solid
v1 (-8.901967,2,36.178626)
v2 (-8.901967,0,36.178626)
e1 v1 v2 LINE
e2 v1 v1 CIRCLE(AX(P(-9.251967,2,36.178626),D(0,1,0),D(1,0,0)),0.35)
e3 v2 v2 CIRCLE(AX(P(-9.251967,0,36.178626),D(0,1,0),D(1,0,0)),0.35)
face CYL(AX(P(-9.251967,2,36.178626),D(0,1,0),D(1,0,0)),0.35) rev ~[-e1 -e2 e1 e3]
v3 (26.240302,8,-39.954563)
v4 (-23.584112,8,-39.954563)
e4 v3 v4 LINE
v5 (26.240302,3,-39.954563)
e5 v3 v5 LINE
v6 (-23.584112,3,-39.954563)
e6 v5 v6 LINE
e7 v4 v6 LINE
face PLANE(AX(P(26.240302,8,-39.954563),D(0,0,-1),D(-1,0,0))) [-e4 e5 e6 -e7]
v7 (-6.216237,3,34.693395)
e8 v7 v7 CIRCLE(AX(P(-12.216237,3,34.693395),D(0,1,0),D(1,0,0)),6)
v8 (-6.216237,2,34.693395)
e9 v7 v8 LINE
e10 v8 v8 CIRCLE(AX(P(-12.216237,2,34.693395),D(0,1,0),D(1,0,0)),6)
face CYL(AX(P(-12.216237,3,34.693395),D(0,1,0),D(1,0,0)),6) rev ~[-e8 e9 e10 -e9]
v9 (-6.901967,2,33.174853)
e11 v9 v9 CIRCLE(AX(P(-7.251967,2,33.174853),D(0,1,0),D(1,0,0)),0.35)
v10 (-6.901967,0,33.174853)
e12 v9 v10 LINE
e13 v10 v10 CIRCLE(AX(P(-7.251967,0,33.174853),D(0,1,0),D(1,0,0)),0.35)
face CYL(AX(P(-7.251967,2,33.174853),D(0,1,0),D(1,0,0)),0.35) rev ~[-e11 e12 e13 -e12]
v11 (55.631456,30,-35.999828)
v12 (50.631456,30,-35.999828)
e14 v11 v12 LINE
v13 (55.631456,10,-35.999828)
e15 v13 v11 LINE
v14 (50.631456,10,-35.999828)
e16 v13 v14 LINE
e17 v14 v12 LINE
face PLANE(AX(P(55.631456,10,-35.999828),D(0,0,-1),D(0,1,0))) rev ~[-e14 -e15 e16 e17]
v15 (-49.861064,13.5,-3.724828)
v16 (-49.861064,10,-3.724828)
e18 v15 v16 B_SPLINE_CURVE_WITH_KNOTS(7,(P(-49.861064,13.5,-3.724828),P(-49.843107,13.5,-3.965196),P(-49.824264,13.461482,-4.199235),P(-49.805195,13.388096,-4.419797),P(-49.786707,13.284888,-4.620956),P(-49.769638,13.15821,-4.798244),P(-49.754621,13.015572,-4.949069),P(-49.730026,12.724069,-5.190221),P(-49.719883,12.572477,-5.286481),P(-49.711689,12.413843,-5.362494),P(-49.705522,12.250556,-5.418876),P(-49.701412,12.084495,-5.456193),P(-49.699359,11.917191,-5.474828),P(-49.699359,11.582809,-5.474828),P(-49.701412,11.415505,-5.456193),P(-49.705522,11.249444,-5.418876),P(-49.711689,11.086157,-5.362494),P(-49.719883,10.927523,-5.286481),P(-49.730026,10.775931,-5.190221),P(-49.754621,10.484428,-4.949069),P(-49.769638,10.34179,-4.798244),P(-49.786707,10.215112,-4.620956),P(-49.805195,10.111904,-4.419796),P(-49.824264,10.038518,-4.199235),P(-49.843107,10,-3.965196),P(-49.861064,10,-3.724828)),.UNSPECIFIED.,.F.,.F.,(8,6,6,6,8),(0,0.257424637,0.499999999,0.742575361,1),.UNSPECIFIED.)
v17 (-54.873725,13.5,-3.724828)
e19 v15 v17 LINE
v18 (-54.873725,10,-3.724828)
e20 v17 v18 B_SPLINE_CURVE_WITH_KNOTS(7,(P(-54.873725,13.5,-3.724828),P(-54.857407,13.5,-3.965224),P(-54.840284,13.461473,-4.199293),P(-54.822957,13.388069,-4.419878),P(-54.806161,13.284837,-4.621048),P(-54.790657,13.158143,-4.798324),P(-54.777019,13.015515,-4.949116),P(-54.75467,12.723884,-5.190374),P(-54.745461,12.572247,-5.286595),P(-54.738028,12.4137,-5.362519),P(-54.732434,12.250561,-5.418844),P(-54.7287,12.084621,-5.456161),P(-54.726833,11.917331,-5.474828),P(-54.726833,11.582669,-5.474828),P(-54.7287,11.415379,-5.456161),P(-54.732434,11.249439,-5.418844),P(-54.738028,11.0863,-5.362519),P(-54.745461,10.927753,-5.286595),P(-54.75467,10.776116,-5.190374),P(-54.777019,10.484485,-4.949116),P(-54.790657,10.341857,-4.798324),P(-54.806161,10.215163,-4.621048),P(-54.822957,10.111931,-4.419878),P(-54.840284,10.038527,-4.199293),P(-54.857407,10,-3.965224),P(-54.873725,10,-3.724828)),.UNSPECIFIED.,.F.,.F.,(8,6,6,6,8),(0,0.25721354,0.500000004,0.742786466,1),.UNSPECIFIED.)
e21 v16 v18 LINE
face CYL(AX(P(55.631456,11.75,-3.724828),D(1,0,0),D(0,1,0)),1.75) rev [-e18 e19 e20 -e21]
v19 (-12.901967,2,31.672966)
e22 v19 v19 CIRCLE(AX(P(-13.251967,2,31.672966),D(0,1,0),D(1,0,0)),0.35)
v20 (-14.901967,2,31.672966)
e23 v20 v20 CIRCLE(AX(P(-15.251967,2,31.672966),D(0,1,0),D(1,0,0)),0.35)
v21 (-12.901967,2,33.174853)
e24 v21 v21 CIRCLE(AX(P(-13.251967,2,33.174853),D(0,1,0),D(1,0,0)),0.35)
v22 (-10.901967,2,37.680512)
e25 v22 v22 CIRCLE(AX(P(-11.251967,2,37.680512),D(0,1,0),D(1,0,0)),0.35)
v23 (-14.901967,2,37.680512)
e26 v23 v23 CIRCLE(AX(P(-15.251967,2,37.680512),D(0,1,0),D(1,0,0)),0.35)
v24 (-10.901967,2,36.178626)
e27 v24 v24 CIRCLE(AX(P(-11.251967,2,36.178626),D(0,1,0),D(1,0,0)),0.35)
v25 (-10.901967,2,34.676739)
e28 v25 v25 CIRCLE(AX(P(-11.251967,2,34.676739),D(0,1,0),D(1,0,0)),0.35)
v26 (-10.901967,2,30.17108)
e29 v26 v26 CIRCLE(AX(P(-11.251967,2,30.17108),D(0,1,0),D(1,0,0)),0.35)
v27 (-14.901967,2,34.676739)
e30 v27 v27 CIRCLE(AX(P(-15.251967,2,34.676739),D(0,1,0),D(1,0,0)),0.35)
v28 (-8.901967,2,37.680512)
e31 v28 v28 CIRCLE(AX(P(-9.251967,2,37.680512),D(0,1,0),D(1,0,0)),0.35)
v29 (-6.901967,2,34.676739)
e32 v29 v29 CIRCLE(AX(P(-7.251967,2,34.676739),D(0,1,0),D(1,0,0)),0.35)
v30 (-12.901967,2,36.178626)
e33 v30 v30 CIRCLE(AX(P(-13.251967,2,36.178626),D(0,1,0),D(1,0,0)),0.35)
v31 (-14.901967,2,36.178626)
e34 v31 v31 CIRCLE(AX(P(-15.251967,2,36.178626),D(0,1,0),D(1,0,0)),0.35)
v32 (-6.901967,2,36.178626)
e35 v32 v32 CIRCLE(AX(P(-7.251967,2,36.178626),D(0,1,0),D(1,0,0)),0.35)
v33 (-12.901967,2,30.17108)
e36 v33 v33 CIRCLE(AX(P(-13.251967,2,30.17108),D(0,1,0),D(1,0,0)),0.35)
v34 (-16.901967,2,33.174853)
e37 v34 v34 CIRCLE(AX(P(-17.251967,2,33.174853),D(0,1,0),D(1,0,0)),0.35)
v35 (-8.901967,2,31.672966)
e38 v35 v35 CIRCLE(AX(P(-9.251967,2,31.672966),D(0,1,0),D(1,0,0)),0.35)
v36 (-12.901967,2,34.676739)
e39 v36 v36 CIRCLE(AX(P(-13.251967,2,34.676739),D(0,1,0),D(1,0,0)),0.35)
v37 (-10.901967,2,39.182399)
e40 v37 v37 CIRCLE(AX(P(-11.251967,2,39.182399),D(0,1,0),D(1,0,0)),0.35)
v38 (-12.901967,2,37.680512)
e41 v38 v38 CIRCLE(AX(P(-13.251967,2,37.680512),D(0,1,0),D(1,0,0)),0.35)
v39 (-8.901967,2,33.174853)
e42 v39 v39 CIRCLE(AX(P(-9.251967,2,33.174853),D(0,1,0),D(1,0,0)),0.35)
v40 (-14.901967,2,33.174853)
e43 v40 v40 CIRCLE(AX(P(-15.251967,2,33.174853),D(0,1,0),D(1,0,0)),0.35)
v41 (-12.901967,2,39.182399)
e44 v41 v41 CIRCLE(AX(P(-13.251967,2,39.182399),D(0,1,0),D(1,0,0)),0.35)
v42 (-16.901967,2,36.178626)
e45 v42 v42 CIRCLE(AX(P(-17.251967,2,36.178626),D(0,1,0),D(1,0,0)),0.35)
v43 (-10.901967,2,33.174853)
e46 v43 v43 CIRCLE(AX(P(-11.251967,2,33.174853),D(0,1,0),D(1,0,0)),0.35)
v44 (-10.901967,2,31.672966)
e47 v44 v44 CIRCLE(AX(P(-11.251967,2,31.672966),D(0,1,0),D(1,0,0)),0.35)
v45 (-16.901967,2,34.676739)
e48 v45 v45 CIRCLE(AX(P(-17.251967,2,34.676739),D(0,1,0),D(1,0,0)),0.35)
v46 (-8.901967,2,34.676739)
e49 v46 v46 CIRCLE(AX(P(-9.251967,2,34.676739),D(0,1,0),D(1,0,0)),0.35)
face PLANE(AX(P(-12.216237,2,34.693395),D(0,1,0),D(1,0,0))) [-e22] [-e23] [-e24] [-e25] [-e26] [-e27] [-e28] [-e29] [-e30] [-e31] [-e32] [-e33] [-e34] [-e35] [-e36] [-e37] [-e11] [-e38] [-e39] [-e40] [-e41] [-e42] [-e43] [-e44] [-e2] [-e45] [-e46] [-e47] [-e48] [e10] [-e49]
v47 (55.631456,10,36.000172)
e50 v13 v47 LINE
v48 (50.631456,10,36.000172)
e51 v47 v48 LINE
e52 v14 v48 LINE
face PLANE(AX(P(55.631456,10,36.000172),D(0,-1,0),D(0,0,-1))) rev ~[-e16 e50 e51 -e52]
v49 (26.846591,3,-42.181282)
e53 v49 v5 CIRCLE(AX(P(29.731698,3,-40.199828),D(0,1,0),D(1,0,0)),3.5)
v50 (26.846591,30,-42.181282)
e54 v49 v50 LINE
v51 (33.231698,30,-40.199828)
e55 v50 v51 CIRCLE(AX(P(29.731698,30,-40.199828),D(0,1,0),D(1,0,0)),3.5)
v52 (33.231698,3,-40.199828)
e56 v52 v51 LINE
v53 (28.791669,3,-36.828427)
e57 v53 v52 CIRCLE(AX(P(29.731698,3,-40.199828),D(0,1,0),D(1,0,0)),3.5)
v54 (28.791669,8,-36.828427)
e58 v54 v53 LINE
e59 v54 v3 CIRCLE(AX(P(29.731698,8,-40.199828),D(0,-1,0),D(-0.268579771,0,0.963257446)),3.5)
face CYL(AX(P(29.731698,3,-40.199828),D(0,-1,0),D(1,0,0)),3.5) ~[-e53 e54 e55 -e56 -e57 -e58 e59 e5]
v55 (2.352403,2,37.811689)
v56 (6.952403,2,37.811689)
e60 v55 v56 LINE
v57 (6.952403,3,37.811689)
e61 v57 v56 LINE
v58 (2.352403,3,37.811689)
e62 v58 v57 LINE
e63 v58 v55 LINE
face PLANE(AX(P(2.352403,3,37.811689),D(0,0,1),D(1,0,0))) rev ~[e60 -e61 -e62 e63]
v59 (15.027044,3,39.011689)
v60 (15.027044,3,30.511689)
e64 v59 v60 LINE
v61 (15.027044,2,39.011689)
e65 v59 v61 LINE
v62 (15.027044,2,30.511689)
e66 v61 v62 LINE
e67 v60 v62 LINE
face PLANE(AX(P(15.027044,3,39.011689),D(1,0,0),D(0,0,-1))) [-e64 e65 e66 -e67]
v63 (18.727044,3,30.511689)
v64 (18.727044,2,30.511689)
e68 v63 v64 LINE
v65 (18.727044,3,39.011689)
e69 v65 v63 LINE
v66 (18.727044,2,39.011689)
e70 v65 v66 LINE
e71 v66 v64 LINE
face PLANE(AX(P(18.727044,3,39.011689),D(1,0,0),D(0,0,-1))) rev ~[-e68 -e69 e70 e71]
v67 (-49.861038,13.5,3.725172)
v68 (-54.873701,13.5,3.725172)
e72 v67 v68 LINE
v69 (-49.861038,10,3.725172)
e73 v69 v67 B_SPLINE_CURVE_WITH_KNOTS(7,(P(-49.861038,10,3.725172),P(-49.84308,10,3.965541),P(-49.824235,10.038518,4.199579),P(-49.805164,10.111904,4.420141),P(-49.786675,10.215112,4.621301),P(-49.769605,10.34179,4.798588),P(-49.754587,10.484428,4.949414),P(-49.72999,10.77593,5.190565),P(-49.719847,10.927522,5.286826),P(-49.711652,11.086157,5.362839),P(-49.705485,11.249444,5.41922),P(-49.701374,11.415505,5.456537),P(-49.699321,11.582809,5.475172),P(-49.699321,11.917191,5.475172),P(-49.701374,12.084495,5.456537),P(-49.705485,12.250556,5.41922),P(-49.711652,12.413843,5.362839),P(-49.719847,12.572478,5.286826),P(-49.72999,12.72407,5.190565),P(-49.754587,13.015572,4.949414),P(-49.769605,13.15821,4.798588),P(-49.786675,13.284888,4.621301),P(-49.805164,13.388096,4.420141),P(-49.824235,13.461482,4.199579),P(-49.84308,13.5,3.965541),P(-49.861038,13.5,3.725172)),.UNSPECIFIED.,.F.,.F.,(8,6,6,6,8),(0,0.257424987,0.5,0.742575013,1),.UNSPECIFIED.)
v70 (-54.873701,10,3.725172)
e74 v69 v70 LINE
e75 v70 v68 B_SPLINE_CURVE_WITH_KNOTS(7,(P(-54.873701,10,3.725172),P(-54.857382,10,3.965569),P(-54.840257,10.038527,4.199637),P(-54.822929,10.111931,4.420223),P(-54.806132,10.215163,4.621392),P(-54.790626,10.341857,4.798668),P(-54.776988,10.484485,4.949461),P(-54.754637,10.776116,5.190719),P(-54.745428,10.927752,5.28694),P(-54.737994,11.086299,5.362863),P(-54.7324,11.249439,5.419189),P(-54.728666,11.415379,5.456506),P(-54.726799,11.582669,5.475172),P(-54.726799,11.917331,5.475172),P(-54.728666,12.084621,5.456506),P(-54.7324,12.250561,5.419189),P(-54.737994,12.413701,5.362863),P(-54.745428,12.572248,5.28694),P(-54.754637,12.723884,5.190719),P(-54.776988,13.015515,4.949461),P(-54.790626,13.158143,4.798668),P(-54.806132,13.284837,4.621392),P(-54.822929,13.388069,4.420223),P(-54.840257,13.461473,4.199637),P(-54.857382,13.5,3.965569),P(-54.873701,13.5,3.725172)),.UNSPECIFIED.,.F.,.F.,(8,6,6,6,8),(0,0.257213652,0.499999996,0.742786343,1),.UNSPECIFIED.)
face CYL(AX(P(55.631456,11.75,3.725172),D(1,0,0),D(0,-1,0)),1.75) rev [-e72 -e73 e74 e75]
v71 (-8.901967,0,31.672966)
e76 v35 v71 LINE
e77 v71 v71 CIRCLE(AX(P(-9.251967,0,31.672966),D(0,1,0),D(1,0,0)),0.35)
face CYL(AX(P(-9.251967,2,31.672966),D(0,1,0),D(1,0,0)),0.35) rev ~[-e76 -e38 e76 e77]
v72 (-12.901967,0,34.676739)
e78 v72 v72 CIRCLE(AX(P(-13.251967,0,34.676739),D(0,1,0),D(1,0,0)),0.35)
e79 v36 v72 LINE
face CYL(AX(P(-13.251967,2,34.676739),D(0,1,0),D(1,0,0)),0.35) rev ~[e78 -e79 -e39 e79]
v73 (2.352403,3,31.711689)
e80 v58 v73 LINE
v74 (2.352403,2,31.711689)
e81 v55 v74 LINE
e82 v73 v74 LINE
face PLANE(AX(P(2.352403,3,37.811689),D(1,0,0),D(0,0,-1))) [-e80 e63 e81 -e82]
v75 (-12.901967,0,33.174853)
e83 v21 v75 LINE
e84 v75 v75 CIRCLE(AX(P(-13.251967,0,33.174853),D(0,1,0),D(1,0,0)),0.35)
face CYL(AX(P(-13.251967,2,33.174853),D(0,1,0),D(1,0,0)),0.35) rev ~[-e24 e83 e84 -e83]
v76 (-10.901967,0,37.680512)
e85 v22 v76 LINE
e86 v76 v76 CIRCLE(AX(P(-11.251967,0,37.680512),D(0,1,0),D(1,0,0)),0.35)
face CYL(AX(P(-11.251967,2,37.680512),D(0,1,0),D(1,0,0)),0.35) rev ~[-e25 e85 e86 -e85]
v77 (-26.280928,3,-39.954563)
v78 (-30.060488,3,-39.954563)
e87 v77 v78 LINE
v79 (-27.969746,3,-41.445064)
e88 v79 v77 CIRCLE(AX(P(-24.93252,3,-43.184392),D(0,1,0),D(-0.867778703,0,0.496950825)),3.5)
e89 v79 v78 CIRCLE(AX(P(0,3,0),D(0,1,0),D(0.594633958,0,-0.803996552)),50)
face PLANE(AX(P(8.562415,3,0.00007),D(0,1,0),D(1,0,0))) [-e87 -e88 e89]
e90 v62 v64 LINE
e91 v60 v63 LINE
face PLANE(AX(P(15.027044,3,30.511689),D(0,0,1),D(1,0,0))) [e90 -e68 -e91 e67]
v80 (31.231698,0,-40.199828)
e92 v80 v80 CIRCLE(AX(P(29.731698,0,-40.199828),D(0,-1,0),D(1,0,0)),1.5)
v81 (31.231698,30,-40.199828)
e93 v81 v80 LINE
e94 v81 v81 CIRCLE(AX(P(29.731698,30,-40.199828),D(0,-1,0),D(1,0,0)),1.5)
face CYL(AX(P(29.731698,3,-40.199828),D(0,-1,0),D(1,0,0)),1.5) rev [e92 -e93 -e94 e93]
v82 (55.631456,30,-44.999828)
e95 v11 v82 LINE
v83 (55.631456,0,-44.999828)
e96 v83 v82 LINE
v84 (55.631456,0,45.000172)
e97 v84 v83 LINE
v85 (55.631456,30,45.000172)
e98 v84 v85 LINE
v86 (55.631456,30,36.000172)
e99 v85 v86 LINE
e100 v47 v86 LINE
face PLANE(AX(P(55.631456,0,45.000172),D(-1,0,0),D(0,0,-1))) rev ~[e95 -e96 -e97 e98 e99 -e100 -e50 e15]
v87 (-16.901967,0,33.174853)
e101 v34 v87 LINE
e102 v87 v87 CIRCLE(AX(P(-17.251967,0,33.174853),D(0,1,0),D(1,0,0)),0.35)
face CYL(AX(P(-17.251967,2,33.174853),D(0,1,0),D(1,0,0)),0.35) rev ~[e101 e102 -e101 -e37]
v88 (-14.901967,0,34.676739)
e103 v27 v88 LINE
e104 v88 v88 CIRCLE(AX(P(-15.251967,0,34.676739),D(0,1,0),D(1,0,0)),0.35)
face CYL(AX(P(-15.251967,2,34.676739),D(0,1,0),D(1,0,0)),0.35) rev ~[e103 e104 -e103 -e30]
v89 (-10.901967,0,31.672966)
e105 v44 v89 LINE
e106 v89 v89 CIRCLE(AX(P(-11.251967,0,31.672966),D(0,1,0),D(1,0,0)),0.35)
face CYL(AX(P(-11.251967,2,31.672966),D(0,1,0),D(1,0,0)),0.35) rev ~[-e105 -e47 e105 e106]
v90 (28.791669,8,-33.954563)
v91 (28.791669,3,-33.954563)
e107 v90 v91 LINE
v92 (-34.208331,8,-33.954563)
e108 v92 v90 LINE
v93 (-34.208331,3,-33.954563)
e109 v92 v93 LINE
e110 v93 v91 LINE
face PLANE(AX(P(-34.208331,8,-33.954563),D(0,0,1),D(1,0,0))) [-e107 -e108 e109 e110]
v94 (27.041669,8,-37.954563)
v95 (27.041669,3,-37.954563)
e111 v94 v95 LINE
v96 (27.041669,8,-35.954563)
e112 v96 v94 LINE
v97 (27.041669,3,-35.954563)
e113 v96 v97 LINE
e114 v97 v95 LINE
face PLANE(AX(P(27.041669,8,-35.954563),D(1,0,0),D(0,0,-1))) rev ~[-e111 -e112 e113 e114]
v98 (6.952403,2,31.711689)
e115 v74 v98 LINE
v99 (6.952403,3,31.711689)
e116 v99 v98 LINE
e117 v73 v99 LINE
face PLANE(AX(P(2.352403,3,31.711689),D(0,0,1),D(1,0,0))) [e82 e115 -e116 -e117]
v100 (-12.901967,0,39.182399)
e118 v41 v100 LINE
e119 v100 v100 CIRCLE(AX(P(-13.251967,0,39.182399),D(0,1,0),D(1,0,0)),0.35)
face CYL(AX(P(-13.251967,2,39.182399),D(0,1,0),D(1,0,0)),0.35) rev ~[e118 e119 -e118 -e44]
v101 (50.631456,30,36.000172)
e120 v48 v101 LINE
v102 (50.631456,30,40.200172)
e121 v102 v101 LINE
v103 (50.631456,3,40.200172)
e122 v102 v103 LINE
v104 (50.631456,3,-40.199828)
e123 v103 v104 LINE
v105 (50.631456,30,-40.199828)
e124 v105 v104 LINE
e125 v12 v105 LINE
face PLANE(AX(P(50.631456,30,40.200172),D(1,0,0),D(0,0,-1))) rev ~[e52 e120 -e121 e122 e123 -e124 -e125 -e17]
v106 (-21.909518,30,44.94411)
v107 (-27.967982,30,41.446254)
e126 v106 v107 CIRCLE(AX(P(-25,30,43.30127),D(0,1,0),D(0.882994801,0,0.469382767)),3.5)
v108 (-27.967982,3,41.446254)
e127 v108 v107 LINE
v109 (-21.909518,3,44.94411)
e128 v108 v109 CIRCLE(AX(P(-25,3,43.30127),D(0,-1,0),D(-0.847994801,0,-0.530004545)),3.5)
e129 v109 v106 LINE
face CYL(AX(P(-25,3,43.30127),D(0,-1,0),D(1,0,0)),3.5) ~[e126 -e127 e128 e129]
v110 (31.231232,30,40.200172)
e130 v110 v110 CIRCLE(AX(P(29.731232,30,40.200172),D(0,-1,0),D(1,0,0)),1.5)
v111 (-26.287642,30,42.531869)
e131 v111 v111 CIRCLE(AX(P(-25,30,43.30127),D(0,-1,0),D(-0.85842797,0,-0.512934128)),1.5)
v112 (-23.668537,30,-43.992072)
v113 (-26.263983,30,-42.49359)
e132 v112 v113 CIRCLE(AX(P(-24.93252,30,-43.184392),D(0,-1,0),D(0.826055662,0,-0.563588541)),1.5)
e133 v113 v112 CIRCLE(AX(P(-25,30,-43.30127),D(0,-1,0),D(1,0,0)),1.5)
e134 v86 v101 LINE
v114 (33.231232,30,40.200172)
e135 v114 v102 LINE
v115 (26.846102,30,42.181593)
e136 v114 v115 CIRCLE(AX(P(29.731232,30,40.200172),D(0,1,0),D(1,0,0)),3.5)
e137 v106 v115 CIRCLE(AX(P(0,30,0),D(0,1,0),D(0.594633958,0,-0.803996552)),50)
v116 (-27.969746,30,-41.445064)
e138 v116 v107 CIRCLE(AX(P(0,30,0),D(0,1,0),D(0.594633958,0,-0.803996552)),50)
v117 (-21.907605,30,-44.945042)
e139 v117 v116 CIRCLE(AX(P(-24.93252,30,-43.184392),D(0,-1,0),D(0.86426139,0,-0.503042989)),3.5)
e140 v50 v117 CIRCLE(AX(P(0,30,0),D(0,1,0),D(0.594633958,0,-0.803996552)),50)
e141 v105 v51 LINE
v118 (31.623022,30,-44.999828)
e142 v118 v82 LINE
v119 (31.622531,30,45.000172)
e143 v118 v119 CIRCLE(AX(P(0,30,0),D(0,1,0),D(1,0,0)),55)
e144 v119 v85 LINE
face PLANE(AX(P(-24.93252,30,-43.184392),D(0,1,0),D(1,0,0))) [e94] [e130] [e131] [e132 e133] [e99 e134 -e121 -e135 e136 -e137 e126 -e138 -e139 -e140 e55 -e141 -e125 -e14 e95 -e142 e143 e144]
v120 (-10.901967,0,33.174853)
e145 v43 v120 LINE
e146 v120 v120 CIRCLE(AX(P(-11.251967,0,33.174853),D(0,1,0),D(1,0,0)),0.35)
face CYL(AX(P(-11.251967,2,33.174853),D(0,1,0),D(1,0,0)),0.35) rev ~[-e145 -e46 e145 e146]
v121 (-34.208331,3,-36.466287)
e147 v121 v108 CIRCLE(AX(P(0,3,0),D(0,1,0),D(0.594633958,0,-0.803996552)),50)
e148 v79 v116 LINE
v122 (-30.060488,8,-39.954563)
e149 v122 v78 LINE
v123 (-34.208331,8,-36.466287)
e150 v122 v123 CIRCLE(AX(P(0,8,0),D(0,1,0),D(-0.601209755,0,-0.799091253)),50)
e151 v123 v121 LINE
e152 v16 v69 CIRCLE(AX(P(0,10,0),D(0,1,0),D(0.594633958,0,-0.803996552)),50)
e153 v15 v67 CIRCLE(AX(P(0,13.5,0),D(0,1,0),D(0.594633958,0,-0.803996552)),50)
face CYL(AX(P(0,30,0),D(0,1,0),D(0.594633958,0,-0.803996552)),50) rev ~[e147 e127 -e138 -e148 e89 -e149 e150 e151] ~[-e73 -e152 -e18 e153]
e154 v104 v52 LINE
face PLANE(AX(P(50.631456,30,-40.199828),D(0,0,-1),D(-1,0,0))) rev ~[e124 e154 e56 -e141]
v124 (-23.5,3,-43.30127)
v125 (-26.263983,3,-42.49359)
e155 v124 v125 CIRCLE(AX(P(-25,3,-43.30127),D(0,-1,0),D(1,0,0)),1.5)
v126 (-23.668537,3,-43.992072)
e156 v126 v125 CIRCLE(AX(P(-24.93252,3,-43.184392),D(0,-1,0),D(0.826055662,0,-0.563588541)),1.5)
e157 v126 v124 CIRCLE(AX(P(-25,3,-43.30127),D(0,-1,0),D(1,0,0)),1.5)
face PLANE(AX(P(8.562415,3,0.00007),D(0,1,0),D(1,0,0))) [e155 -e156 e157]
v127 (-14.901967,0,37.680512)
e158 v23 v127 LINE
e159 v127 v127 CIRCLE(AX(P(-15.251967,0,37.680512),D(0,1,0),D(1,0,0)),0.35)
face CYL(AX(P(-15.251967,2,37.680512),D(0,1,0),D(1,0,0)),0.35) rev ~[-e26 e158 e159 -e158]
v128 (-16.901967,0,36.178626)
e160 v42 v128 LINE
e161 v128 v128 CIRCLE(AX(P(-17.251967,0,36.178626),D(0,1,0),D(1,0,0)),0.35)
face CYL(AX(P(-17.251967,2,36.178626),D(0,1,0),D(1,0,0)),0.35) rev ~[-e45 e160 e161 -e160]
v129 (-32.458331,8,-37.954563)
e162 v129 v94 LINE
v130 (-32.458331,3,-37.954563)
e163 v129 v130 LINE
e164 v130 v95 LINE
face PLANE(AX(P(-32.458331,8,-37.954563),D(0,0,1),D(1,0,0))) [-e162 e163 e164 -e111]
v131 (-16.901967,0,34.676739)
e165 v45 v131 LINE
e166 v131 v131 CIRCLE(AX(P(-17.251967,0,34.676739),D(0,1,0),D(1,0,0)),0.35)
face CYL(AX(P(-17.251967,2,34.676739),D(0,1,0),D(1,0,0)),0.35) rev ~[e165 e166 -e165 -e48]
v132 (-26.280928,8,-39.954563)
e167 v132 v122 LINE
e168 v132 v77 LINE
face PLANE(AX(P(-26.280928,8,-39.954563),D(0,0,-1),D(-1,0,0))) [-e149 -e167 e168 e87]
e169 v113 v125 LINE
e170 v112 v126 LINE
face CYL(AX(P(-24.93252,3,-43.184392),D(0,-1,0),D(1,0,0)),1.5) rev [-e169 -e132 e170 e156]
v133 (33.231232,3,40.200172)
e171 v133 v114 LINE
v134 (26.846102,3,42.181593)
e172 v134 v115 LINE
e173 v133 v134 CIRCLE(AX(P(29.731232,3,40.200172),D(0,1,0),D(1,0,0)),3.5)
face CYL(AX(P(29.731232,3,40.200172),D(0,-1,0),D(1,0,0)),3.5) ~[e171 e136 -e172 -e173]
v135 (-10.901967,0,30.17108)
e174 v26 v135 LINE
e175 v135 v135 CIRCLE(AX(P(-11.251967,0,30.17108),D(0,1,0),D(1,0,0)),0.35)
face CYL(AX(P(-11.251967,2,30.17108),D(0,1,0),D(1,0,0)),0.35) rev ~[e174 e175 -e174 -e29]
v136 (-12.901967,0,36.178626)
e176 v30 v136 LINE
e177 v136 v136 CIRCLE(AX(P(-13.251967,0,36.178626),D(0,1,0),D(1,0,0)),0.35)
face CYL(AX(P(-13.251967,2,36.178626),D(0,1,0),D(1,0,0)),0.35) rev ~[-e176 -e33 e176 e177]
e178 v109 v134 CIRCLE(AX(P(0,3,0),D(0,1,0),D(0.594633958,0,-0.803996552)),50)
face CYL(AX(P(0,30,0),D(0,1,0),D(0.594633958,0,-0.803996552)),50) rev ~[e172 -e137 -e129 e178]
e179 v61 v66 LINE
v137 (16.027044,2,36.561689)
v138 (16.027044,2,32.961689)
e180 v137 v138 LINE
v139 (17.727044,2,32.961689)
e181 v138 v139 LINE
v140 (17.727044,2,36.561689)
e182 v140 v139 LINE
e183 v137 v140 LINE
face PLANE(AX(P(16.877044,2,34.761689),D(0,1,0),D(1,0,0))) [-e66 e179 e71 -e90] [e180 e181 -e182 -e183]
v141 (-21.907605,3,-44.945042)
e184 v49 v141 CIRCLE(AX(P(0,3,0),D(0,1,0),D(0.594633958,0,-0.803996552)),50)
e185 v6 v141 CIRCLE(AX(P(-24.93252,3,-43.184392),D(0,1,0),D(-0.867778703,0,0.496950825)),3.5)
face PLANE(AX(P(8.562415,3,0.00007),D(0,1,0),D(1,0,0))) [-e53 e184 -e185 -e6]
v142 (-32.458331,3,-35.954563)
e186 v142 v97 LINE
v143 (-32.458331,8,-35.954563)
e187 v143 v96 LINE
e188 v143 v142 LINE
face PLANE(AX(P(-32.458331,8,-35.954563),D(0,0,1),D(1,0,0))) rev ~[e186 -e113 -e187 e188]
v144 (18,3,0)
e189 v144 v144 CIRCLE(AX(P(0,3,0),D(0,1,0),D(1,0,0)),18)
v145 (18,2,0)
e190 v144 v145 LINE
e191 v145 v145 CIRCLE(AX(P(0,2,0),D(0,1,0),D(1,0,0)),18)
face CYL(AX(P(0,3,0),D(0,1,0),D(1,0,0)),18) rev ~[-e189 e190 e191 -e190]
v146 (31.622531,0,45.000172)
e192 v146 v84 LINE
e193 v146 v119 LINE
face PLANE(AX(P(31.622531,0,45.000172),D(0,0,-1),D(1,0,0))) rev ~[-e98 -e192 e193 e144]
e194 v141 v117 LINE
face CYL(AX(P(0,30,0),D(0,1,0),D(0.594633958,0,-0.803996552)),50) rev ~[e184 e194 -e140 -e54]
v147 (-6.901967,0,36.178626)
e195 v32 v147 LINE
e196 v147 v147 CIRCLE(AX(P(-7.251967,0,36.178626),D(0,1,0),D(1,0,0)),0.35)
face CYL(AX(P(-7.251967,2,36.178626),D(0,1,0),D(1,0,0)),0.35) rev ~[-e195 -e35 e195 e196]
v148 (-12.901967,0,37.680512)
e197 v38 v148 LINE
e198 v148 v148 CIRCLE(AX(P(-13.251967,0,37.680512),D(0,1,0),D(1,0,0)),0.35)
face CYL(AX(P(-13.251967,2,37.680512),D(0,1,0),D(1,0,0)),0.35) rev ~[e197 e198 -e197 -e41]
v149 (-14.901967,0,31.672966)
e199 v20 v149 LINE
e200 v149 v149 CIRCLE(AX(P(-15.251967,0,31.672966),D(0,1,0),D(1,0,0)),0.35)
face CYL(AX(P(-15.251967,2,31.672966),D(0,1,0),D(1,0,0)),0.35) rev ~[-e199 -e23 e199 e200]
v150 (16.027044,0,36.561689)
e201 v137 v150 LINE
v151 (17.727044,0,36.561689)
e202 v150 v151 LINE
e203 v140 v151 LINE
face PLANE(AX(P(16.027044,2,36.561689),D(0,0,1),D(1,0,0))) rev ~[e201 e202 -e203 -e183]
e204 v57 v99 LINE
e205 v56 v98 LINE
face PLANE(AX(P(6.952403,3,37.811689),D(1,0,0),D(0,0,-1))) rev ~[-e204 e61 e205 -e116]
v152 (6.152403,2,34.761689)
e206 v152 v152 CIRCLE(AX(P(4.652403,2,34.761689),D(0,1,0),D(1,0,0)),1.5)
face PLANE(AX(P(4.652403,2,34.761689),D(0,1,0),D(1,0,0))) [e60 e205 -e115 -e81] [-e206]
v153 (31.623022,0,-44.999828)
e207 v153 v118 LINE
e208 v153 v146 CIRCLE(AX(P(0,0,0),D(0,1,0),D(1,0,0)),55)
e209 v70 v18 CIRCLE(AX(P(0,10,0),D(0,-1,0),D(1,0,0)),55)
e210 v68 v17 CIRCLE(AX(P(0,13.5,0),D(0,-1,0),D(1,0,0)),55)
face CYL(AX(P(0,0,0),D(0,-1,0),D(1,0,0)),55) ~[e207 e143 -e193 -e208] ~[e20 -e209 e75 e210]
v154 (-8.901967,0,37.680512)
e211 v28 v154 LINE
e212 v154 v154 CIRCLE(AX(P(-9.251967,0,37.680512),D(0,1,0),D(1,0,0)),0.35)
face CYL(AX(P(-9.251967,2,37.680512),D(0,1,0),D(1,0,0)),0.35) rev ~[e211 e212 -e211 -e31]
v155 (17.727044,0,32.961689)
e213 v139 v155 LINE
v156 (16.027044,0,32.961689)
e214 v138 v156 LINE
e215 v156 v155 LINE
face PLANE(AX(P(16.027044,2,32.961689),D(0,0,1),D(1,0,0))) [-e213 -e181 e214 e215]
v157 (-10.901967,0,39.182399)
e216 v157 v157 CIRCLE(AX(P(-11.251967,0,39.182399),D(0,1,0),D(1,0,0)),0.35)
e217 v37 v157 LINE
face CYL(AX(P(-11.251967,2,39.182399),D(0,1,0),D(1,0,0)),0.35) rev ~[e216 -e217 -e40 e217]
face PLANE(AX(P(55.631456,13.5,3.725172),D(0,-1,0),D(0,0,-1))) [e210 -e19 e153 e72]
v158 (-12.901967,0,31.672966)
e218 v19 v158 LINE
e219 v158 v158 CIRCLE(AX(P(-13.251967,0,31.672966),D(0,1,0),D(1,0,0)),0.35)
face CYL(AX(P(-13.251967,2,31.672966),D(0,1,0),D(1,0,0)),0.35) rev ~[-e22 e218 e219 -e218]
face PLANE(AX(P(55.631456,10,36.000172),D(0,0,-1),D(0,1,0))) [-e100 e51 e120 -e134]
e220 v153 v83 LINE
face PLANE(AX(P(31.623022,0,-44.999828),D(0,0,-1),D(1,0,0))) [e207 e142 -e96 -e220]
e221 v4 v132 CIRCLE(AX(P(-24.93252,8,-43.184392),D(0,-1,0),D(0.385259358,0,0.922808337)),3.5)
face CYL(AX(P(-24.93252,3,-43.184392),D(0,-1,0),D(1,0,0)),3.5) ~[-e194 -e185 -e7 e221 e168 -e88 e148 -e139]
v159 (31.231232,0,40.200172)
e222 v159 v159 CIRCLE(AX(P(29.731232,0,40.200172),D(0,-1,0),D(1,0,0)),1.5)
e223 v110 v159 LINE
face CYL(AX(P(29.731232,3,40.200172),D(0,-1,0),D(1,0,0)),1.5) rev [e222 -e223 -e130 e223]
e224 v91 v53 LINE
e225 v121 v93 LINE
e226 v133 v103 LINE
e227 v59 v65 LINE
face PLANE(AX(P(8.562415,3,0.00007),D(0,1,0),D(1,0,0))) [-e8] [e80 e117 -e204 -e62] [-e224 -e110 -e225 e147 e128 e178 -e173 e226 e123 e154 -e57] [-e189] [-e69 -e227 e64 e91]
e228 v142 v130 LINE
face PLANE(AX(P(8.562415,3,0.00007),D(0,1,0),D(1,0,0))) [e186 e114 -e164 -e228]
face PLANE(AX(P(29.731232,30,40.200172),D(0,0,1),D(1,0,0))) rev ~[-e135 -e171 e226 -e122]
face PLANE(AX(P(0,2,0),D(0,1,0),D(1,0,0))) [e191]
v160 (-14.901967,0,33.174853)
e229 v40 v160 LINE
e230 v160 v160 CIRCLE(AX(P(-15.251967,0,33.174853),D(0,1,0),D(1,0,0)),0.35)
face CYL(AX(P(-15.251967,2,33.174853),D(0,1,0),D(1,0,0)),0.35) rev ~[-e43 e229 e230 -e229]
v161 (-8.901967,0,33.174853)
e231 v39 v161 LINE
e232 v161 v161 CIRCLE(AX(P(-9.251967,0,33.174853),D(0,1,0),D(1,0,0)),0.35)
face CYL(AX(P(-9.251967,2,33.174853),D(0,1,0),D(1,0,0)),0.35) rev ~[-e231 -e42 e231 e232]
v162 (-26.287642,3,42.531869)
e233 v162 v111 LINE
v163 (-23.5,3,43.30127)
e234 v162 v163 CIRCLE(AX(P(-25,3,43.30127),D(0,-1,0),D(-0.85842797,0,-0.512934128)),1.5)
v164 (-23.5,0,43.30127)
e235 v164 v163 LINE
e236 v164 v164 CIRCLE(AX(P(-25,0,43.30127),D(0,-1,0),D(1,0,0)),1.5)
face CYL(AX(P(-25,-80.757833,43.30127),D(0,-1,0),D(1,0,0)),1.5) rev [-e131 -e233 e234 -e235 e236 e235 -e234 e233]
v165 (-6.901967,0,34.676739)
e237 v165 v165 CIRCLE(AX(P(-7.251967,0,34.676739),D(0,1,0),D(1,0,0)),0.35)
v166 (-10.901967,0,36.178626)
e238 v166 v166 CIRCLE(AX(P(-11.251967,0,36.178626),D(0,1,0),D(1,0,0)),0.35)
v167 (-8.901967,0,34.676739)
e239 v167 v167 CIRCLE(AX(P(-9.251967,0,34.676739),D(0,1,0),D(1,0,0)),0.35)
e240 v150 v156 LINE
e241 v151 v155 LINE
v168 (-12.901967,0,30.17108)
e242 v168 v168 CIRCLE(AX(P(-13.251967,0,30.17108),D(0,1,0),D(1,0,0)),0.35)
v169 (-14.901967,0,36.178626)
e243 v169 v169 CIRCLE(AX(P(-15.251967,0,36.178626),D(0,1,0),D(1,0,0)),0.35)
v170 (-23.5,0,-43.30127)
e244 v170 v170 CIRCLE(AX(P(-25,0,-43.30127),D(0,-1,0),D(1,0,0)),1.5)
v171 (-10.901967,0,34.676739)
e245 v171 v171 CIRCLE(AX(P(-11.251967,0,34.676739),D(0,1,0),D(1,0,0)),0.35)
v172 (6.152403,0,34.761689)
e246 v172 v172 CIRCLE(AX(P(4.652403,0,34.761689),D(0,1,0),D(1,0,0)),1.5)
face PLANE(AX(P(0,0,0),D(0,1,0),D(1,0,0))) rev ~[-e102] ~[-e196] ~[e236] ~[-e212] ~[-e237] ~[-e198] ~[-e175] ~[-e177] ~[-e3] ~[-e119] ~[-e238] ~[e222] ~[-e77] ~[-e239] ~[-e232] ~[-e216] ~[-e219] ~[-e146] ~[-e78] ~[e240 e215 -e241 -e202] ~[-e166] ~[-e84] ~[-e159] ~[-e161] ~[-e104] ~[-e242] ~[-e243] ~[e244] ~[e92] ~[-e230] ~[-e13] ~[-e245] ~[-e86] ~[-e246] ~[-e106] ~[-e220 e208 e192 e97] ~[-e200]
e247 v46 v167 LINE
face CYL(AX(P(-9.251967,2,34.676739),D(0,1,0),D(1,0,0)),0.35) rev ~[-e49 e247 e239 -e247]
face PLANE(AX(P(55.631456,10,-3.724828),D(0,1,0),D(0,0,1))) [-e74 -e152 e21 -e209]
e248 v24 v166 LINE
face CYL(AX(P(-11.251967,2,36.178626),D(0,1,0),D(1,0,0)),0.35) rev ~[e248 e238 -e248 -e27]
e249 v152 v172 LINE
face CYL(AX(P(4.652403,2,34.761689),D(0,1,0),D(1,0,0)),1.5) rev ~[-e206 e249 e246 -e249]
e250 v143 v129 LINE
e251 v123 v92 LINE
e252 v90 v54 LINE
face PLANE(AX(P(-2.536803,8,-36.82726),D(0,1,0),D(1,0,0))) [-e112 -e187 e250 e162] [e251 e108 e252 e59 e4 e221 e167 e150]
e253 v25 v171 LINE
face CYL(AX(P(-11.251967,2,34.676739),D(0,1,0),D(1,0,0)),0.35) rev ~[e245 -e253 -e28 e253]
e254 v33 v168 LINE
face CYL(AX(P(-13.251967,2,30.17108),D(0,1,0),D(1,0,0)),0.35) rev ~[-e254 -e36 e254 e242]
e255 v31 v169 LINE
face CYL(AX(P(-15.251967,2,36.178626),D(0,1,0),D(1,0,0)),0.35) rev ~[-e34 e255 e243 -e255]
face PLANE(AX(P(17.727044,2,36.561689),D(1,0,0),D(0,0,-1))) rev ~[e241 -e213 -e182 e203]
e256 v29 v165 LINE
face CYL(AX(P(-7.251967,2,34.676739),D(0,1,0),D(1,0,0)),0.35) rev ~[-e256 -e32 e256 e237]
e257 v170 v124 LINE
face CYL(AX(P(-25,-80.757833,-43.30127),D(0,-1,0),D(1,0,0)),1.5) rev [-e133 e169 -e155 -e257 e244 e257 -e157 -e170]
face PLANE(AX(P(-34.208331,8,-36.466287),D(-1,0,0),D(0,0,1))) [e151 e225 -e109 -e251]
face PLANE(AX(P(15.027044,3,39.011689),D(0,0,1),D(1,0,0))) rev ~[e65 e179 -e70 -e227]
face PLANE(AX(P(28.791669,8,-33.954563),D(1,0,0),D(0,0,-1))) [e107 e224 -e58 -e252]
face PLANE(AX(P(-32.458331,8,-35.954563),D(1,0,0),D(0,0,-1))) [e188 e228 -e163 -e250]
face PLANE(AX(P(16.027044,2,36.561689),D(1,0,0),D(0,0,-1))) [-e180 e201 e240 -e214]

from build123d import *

# Parameters (mm, degrees)
SKETCH1_R               = 55
SKETCH1_W               = 30.631456328
SKETCH1_H               = 90
HOUSING_DEPTH           = 30
INTERNALCUT_DEPTH       = 27
SKETCH7_W               = 72
SKETCH7_H               = 25
DISPLAYCUT_DEPTH        = 27
SKETCH11_R              = 18
WICHARGERCUT_DEPTH      = 1
SKETCH14_W              = 4.6
SKETCH14_H              = 6.1
BTNINTERNALCUT_DEPTH    = 1
SKETCH16_R              = 1.5
BTNEXTERNALCUT_DEPTH    = 116.280995765
SKETCH18_R              = 6
BUZZEREXTERNALCUT_DEPTH = 1
SKETCH20_R              = 0.35
BUZZERINTERNALCUT_DEPTH = 116.863890151
SKETCH23_W              = 3.7
SKETCH23_H              = 8.5
SWITCHINTERNALCUT_DEPTH = 1
SKETCH25_W              = 1.7
SKETCH25_H              = 3.6
SWITCHEXTERNALCUT_DEPTH = 124.821406818
MICROUSBCUT_DEPTH       = 128.13897565
SKETCH29_R              = 3.5
SKETCH29_R_2            = 1.5
BOSS_EXTRUDE1_DEPTH     = 27
CUT_EXTRUDE1_DEPTH      = 83.757833161
CUT_EXTRUDE1_DEPTH_BACK = 83.757833161
SKETCH30_R              = 1.5
BOSS_EXTRUDE3_START     = 5
SKETCH31_W              = 59.5
SKETCH31_H              = 2
BOSS_EXTRUDE3_DEPTH     = 5


with BuildPart() as part:
    # Sketch1 → Housing (new body)
    with BuildSketch(Plane(origin=(0, 0, 0), x_dir=(1, 0, 0), z_dir=(0, 1, 0))):
        Circle(SKETCH1_R)
        with Locations((40.315728164, -0.0001724)):
            Rectangle(SKETCH1_W, SKETCH1_H)
    extrude(amount=HOUSING_DEPTH)

    # Sketch8 → InternalCut (cut)
    with BuildSketch(Plane(origin=(0, 30, 0), x_dir=(1, 0, 0), z_dir=(0, 1, 0))):
        with BuildLine():
            Line((29.73123171, -40.2001724), (50.631456328, -40.2001724))
            Line((50.631456328, -40.2001724), (50.631456328, 40.1998276))
            Line((50.631456328, 40.1998276), (29.731697916, 40.1998276))
            ThreePointArc((29.731697916, 40.1998276), (-49.999999999, 0.000289929), (29.73123171, -40.2001724))
        make_face()
    extrude(amount=-INTERNALCUT_DEPTH, mode=Mode.SUBTRACT)

    # Sketch7 → DisplayCut (cut)
    with BuildSketch(Plane(origin=(55.631456328, 0, 0), x_dir=(0, 0, -1), z_dir=(1, 0, 0))):
        with Locations((-0.0001724, 22.5)):
            Rectangle(SKETCH7_W, SKETCH7_H)
    extrude(amount=-DISPLAYCUT_DEPTH, mode=Mode.SUBTRACT)

    # Sketch11 → WiChargerCut (cut)
    with BuildSketch(Plane(origin=(0, 3, 0), x_dir=(1, 0, 0), z_dir=(0, 1, 0))):
        Circle(SKETCH11_R)
    extrude(amount=-WICHARGERCUT_DEPTH, mode=Mode.SUBTRACT)

    # Sketch14 → BtnInternalCut (cut)
    with BuildSketch(Plane(origin=(4.856972308, 3, -39.46084295), x_dir=(1, 0, 0), z_dir=(0, 1, 0))):
        with Locations((-0.204569722, -74.22253241)):
            Rectangle(SKETCH14_W, SKETCH14_H)
    extrude(amount=-BTNINTERNALCUT_DEPTH, mode=Mode.SUBTRACT)

    # Sketch16 → BtnExternalCut (cut, through all)
    with BuildSketch(Plane(origin=(4.856972308, 2, -39.46084295), x_dir=(1, 0, 0), z_dir=(0, 1, 0))):
        with Locations((-0.204569722, -74.22253241)):
            Circle(SKETCH16_R)
    extrude(amount=-BTNEXTERNALCUT_DEPTH, mode=Mode.SUBTRACT)

    # Sketch18 → BuzzerExternalCut (cut)
    with BuildSketch(Plane(origin=(12.790381818, 3, 34.693395374), x_dir=(1, 0, 0), z_dir=(0, 1, 0))):
        with Locations((-25.006618322, 0)):
            Circle(SKETCH18_R)
    extrude(amount=-BUZZEREXTERNALCUT_DEPTH, mode=Mode.SUBTRACT)

    # Sketch20 → BuzzerInternalCut (cut, through all)
    with BuildSketch(Plane(origin=(12.790381818, 2, 34.693395374), x_dir=(1, 0, 0), z_dir=(0, 1, 0))):
        with Locations((-26.042348329, 4.522315504)):
            Circle(SKETCH20_R)
        with Locations((-26.042348329, 3.020429056)):
            Circle(SKETCH20_R)
        with Locations((-26.042348329, 1.518542609)):
            Circle(SKETCH20_R)
        with Locations((-26.042348329, 0.016656161)):
            Circle(SKETCH20_R)
        with Locations((-26.042348329, -1.485230286)):
            Circle(SKETCH20_R)
        with Locations((-26.042348329, -2.987116733)):
            Circle(SKETCH20_R)
        with Locations((-26.042348329, -4.489003181)):
            Circle(SKETCH20_R)
        with Locations((-24.042348329, 4.522315504)):
            Circle(SKETCH20_R)
        with Locations((-24.042348329, 3.020429056)):
            Circle(SKETCH20_R)
        with Locations((-22.042348329, 3.020429056)):
            Circle(SKETCH20_R)
        with Locations((-28.042348329, 3.020429056)):
            Circle(SKETCH20_R)
        with Locations((-24.042348329, 1.518542609)):
            Circle(SKETCH20_R)
        with Locations((-22.042348329, 1.518542609)):
            Circle(SKETCH20_R)
        with Locations((-20.042348329, 1.518542609)):
            Circle(SKETCH20_R)
        with Locations((-28.042348329, 1.518542609)):
            Circle(SKETCH20_R)
        with Locations((-30.042348329, 1.518542609)):
            Circle(SKETCH20_R)
        with Locations((-24.042348329, 0.016656161)):
            Circle(SKETCH20_R)
        with Locations((-22.042348329, 0.016656161)):
            Circle(SKETCH20_R)
        with Locations((-20.042348329, 0.016656161)):
            Circle(SKETCH20_R)
        with Locations((-24.042348329, -1.485230286)):
            Circle(SKETCH20_R)
        with Locations((-22.042348329, -1.485230286)):
            Circle(SKETCH20_R)
        with Locations((-20.042348329, -1.485230286)):
            Circle(SKETCH20_R)
        with Locations((-24.042348329, -2.987116733)):
            Circle(SKETCH20_R)
        with Locations((-22.042348329, -2.987116733)):
            Circle(SKETCH20_R)
        with Locations((-24.042348329, -4.489003181)):
            Circle(SKETCH20_R)
        with Locations((-28.042348329, -2.987116733)):
            Circle(SKETCH20_R)
        with Locations((-28.042348329, -1.485230286)):
            Circle(SKETCH20_R)
        with Locations((-30.042348329, -1.485230286)):
            Circle(SKETCH20_R)
        with Locations((-28.042348329, 0.016656161)):
            Circle(SKETCH20_R)
        with Locations((-30.042348329, 0.016656161)):
            Circle(SKETCH20_R)
    extrude(amount=-BUZZERINTERNALCUT_DEPTH, mode=Mode.SUBTRACT)

    # Sketch23 → SwitchInternalCut (cut)
    with BuildSketch(Plane(origin=(-6.532000561, 3, 48.360753742), x_dir=(1, 0, 0), z_dir=(0, 1, 0))):
        with Locations((23.409044431, 13.599064282)):
            Rectangle(SKETCH23_W, SKETCH23_H)
    extrude(amount=-SWITCHINTERNALCUT_DEPTH, mode=Mode.SUBTRACT)

    # Sketch25 → SwitchExternalCut (cut, through all)
    with BuildSketch(Plane(origin=(-6.532000561, 2, 48.360753742), x_dir=(1, 0, 0), z_dir=(0, 1, 0))):
        with Locations((23.409044431, 13.599064282)):
            Rectangle(SKETCH25_W, SKETCH25_H)
    extrude(amount=-SWITCHEXTERNALCUT_DEPTH, mode=Mode.SUBTRACT)

    # Sketch28 → MicroUSBCut (cut, through all)
    with BuildSketch(Plane(origin=(55.631456328, 0, 0), x_dir=(0, 0, -1), z_dir=(1, 0, 0))):
        with BuildLine():
            Line((-3.7251724, 13.5), (3.7248276, 13.5))
            ThreePointArc((3.7248276, 13.5), (5.4748276, 11.75), (3.7248276, 10))
            Line((3.7248276, 10), (-3.7251724, 10))
            ThreePointArc((-3.7251724, 10), (-5.4751724, 11.75), (-3.7251724, 13.5))
        make_face()
    extrude(amount=-MICROUSBCUT_DEPTH, mode=Mode.SUBTRACT)

    # Sketch29 → Boss-Extrude1 (add)
    # profile 1 of 4: a face of its own
    with BuildSketch(Plane(origin=(0, 3, 0), x_dir=(1, 0, 0), z_dir=(0, 1, 0))):
        with Locations((-24.932520247, 43.184391828)):
            Circle(SKETCH29_R)
        with Locations((-24.932520247, 43.184391828)):
            Circle(SKETCH29_R_2, mode=Mode.SUBTRACT)
    # profile 2 of 4: a face of its own
    with BuildSketch(Plane(origin=(0, 3, 0), x_dir=(1, 0, 0), z_dir=(0, 1, 0))):
        with Locations((-25, -43.301270189)):
            Circle(SKETCH29_R)
        with Locations((-25, -43.301270189)):
            Circle(SKETCH29_R_2, mode=Mode.SUBTRACT)
    # profile 3 of 4: a face of its own
    with BuildSketch(Plane(origin=(0, 3, 0), x_dir=(1, 0, 0), z_dir=(0, 1, 0))):
        with Locations((29.731697916, 40.1998276)):
            Circle(SKETCH29_R)
        with Locations((29.731697916, 40.1998276)):
            Circle(SKETCH29_R_2, mode=Mode.SUBTRACT)
    # profile 4 of 4: a face of its own
    with BuildSketch(Plane(origin=(0, 3, 0), x_dir=(1, 0, 0), z_dir=(0, 1, 0))):
        with Locations((29.73123171, -40.2001724)):
            Circle(SKETCH29_R)
        with Locations((29.73123171, -40.2001724)):
            Circle(SKETCH29_R_2, mode=Mode.SUBTRACT)
    extrude(amount=BOSS_EXTRUDE1_DEPTH)

    # Sketch30 → Cut-Extrude1 (cut, two sides: drawn at the far end of the back side and taken through both)
    with BuildSketch(Plane(origin=(0, 3, 0), x_dir=(1, 0, 0), z_dir=(0, 1, 0)).offset(-CUT_EXTRUDE1_DEPTH_BACK)):
        with Locations((29.731697916, 40.1998276)):
            Circle(SKETCH30_R)
        with Locations((-25, -43.301270189)):
            Circle(SKETCH30_R)
        with Locations((29.73123171, -40.2001724)):
            Circle(SKETCH30_R)
        with Locations((-25, 43.301270189)):
            Circle(SKETCH30_R)
    extrude(amount=CUT_EXTRUDE1_DEPTH + CUT_EXTRUDE1_DEPTH_BACK, mode=Mode.SUBTRACT)

    # Sketch31 → Boss-Extrude3 (add)
    with BuildSketch(Plane(origin=(0, 3, 0), x_dir=(1, 0, 0), z_dir=(0, 1, 0)).offset(BOSS_EXTRUDE3_START)):
        with BuildLine():
            Line((-26.280928, 39.954562648), (-30.060487747, 39.954562648))
            ThreePointArc((-30.060487747, 39.954562648), (-32.181707413, 38.266665755), (-34.208331283, 36.466286771))
            Line((-34.208331283, 36.466286771), (-34.208331283, 33.954562648))
            Line((-34.208331283, 33.954562648), (28.791668717, 33.954562648))
            Line((28.791668717, 33.954562648), (28.791668717, 36.82842654))
            ThreePointArc((28.791668717, 36.82842654), (27.020136784, 37.98681241), (26.240302048, 39.954562648))
            Line((26.240302048, 39.954562648), (-23.584112493, 39.954562648))
            ThreePointArc((-23.584112493, 39.954562648), (-24.932520247, 39.684391828), (-26.280928, 39.954562648))
        make_face()
        with Locations((-2.708331283, 36.954562648)):
            Rectangle(SKETCH31_W, SKETCH31_H, mode=Mode.SUBTRACT)
    extrude(amount=-BOSS_EXTRUDE3_DEPTH)


solid = part.part
